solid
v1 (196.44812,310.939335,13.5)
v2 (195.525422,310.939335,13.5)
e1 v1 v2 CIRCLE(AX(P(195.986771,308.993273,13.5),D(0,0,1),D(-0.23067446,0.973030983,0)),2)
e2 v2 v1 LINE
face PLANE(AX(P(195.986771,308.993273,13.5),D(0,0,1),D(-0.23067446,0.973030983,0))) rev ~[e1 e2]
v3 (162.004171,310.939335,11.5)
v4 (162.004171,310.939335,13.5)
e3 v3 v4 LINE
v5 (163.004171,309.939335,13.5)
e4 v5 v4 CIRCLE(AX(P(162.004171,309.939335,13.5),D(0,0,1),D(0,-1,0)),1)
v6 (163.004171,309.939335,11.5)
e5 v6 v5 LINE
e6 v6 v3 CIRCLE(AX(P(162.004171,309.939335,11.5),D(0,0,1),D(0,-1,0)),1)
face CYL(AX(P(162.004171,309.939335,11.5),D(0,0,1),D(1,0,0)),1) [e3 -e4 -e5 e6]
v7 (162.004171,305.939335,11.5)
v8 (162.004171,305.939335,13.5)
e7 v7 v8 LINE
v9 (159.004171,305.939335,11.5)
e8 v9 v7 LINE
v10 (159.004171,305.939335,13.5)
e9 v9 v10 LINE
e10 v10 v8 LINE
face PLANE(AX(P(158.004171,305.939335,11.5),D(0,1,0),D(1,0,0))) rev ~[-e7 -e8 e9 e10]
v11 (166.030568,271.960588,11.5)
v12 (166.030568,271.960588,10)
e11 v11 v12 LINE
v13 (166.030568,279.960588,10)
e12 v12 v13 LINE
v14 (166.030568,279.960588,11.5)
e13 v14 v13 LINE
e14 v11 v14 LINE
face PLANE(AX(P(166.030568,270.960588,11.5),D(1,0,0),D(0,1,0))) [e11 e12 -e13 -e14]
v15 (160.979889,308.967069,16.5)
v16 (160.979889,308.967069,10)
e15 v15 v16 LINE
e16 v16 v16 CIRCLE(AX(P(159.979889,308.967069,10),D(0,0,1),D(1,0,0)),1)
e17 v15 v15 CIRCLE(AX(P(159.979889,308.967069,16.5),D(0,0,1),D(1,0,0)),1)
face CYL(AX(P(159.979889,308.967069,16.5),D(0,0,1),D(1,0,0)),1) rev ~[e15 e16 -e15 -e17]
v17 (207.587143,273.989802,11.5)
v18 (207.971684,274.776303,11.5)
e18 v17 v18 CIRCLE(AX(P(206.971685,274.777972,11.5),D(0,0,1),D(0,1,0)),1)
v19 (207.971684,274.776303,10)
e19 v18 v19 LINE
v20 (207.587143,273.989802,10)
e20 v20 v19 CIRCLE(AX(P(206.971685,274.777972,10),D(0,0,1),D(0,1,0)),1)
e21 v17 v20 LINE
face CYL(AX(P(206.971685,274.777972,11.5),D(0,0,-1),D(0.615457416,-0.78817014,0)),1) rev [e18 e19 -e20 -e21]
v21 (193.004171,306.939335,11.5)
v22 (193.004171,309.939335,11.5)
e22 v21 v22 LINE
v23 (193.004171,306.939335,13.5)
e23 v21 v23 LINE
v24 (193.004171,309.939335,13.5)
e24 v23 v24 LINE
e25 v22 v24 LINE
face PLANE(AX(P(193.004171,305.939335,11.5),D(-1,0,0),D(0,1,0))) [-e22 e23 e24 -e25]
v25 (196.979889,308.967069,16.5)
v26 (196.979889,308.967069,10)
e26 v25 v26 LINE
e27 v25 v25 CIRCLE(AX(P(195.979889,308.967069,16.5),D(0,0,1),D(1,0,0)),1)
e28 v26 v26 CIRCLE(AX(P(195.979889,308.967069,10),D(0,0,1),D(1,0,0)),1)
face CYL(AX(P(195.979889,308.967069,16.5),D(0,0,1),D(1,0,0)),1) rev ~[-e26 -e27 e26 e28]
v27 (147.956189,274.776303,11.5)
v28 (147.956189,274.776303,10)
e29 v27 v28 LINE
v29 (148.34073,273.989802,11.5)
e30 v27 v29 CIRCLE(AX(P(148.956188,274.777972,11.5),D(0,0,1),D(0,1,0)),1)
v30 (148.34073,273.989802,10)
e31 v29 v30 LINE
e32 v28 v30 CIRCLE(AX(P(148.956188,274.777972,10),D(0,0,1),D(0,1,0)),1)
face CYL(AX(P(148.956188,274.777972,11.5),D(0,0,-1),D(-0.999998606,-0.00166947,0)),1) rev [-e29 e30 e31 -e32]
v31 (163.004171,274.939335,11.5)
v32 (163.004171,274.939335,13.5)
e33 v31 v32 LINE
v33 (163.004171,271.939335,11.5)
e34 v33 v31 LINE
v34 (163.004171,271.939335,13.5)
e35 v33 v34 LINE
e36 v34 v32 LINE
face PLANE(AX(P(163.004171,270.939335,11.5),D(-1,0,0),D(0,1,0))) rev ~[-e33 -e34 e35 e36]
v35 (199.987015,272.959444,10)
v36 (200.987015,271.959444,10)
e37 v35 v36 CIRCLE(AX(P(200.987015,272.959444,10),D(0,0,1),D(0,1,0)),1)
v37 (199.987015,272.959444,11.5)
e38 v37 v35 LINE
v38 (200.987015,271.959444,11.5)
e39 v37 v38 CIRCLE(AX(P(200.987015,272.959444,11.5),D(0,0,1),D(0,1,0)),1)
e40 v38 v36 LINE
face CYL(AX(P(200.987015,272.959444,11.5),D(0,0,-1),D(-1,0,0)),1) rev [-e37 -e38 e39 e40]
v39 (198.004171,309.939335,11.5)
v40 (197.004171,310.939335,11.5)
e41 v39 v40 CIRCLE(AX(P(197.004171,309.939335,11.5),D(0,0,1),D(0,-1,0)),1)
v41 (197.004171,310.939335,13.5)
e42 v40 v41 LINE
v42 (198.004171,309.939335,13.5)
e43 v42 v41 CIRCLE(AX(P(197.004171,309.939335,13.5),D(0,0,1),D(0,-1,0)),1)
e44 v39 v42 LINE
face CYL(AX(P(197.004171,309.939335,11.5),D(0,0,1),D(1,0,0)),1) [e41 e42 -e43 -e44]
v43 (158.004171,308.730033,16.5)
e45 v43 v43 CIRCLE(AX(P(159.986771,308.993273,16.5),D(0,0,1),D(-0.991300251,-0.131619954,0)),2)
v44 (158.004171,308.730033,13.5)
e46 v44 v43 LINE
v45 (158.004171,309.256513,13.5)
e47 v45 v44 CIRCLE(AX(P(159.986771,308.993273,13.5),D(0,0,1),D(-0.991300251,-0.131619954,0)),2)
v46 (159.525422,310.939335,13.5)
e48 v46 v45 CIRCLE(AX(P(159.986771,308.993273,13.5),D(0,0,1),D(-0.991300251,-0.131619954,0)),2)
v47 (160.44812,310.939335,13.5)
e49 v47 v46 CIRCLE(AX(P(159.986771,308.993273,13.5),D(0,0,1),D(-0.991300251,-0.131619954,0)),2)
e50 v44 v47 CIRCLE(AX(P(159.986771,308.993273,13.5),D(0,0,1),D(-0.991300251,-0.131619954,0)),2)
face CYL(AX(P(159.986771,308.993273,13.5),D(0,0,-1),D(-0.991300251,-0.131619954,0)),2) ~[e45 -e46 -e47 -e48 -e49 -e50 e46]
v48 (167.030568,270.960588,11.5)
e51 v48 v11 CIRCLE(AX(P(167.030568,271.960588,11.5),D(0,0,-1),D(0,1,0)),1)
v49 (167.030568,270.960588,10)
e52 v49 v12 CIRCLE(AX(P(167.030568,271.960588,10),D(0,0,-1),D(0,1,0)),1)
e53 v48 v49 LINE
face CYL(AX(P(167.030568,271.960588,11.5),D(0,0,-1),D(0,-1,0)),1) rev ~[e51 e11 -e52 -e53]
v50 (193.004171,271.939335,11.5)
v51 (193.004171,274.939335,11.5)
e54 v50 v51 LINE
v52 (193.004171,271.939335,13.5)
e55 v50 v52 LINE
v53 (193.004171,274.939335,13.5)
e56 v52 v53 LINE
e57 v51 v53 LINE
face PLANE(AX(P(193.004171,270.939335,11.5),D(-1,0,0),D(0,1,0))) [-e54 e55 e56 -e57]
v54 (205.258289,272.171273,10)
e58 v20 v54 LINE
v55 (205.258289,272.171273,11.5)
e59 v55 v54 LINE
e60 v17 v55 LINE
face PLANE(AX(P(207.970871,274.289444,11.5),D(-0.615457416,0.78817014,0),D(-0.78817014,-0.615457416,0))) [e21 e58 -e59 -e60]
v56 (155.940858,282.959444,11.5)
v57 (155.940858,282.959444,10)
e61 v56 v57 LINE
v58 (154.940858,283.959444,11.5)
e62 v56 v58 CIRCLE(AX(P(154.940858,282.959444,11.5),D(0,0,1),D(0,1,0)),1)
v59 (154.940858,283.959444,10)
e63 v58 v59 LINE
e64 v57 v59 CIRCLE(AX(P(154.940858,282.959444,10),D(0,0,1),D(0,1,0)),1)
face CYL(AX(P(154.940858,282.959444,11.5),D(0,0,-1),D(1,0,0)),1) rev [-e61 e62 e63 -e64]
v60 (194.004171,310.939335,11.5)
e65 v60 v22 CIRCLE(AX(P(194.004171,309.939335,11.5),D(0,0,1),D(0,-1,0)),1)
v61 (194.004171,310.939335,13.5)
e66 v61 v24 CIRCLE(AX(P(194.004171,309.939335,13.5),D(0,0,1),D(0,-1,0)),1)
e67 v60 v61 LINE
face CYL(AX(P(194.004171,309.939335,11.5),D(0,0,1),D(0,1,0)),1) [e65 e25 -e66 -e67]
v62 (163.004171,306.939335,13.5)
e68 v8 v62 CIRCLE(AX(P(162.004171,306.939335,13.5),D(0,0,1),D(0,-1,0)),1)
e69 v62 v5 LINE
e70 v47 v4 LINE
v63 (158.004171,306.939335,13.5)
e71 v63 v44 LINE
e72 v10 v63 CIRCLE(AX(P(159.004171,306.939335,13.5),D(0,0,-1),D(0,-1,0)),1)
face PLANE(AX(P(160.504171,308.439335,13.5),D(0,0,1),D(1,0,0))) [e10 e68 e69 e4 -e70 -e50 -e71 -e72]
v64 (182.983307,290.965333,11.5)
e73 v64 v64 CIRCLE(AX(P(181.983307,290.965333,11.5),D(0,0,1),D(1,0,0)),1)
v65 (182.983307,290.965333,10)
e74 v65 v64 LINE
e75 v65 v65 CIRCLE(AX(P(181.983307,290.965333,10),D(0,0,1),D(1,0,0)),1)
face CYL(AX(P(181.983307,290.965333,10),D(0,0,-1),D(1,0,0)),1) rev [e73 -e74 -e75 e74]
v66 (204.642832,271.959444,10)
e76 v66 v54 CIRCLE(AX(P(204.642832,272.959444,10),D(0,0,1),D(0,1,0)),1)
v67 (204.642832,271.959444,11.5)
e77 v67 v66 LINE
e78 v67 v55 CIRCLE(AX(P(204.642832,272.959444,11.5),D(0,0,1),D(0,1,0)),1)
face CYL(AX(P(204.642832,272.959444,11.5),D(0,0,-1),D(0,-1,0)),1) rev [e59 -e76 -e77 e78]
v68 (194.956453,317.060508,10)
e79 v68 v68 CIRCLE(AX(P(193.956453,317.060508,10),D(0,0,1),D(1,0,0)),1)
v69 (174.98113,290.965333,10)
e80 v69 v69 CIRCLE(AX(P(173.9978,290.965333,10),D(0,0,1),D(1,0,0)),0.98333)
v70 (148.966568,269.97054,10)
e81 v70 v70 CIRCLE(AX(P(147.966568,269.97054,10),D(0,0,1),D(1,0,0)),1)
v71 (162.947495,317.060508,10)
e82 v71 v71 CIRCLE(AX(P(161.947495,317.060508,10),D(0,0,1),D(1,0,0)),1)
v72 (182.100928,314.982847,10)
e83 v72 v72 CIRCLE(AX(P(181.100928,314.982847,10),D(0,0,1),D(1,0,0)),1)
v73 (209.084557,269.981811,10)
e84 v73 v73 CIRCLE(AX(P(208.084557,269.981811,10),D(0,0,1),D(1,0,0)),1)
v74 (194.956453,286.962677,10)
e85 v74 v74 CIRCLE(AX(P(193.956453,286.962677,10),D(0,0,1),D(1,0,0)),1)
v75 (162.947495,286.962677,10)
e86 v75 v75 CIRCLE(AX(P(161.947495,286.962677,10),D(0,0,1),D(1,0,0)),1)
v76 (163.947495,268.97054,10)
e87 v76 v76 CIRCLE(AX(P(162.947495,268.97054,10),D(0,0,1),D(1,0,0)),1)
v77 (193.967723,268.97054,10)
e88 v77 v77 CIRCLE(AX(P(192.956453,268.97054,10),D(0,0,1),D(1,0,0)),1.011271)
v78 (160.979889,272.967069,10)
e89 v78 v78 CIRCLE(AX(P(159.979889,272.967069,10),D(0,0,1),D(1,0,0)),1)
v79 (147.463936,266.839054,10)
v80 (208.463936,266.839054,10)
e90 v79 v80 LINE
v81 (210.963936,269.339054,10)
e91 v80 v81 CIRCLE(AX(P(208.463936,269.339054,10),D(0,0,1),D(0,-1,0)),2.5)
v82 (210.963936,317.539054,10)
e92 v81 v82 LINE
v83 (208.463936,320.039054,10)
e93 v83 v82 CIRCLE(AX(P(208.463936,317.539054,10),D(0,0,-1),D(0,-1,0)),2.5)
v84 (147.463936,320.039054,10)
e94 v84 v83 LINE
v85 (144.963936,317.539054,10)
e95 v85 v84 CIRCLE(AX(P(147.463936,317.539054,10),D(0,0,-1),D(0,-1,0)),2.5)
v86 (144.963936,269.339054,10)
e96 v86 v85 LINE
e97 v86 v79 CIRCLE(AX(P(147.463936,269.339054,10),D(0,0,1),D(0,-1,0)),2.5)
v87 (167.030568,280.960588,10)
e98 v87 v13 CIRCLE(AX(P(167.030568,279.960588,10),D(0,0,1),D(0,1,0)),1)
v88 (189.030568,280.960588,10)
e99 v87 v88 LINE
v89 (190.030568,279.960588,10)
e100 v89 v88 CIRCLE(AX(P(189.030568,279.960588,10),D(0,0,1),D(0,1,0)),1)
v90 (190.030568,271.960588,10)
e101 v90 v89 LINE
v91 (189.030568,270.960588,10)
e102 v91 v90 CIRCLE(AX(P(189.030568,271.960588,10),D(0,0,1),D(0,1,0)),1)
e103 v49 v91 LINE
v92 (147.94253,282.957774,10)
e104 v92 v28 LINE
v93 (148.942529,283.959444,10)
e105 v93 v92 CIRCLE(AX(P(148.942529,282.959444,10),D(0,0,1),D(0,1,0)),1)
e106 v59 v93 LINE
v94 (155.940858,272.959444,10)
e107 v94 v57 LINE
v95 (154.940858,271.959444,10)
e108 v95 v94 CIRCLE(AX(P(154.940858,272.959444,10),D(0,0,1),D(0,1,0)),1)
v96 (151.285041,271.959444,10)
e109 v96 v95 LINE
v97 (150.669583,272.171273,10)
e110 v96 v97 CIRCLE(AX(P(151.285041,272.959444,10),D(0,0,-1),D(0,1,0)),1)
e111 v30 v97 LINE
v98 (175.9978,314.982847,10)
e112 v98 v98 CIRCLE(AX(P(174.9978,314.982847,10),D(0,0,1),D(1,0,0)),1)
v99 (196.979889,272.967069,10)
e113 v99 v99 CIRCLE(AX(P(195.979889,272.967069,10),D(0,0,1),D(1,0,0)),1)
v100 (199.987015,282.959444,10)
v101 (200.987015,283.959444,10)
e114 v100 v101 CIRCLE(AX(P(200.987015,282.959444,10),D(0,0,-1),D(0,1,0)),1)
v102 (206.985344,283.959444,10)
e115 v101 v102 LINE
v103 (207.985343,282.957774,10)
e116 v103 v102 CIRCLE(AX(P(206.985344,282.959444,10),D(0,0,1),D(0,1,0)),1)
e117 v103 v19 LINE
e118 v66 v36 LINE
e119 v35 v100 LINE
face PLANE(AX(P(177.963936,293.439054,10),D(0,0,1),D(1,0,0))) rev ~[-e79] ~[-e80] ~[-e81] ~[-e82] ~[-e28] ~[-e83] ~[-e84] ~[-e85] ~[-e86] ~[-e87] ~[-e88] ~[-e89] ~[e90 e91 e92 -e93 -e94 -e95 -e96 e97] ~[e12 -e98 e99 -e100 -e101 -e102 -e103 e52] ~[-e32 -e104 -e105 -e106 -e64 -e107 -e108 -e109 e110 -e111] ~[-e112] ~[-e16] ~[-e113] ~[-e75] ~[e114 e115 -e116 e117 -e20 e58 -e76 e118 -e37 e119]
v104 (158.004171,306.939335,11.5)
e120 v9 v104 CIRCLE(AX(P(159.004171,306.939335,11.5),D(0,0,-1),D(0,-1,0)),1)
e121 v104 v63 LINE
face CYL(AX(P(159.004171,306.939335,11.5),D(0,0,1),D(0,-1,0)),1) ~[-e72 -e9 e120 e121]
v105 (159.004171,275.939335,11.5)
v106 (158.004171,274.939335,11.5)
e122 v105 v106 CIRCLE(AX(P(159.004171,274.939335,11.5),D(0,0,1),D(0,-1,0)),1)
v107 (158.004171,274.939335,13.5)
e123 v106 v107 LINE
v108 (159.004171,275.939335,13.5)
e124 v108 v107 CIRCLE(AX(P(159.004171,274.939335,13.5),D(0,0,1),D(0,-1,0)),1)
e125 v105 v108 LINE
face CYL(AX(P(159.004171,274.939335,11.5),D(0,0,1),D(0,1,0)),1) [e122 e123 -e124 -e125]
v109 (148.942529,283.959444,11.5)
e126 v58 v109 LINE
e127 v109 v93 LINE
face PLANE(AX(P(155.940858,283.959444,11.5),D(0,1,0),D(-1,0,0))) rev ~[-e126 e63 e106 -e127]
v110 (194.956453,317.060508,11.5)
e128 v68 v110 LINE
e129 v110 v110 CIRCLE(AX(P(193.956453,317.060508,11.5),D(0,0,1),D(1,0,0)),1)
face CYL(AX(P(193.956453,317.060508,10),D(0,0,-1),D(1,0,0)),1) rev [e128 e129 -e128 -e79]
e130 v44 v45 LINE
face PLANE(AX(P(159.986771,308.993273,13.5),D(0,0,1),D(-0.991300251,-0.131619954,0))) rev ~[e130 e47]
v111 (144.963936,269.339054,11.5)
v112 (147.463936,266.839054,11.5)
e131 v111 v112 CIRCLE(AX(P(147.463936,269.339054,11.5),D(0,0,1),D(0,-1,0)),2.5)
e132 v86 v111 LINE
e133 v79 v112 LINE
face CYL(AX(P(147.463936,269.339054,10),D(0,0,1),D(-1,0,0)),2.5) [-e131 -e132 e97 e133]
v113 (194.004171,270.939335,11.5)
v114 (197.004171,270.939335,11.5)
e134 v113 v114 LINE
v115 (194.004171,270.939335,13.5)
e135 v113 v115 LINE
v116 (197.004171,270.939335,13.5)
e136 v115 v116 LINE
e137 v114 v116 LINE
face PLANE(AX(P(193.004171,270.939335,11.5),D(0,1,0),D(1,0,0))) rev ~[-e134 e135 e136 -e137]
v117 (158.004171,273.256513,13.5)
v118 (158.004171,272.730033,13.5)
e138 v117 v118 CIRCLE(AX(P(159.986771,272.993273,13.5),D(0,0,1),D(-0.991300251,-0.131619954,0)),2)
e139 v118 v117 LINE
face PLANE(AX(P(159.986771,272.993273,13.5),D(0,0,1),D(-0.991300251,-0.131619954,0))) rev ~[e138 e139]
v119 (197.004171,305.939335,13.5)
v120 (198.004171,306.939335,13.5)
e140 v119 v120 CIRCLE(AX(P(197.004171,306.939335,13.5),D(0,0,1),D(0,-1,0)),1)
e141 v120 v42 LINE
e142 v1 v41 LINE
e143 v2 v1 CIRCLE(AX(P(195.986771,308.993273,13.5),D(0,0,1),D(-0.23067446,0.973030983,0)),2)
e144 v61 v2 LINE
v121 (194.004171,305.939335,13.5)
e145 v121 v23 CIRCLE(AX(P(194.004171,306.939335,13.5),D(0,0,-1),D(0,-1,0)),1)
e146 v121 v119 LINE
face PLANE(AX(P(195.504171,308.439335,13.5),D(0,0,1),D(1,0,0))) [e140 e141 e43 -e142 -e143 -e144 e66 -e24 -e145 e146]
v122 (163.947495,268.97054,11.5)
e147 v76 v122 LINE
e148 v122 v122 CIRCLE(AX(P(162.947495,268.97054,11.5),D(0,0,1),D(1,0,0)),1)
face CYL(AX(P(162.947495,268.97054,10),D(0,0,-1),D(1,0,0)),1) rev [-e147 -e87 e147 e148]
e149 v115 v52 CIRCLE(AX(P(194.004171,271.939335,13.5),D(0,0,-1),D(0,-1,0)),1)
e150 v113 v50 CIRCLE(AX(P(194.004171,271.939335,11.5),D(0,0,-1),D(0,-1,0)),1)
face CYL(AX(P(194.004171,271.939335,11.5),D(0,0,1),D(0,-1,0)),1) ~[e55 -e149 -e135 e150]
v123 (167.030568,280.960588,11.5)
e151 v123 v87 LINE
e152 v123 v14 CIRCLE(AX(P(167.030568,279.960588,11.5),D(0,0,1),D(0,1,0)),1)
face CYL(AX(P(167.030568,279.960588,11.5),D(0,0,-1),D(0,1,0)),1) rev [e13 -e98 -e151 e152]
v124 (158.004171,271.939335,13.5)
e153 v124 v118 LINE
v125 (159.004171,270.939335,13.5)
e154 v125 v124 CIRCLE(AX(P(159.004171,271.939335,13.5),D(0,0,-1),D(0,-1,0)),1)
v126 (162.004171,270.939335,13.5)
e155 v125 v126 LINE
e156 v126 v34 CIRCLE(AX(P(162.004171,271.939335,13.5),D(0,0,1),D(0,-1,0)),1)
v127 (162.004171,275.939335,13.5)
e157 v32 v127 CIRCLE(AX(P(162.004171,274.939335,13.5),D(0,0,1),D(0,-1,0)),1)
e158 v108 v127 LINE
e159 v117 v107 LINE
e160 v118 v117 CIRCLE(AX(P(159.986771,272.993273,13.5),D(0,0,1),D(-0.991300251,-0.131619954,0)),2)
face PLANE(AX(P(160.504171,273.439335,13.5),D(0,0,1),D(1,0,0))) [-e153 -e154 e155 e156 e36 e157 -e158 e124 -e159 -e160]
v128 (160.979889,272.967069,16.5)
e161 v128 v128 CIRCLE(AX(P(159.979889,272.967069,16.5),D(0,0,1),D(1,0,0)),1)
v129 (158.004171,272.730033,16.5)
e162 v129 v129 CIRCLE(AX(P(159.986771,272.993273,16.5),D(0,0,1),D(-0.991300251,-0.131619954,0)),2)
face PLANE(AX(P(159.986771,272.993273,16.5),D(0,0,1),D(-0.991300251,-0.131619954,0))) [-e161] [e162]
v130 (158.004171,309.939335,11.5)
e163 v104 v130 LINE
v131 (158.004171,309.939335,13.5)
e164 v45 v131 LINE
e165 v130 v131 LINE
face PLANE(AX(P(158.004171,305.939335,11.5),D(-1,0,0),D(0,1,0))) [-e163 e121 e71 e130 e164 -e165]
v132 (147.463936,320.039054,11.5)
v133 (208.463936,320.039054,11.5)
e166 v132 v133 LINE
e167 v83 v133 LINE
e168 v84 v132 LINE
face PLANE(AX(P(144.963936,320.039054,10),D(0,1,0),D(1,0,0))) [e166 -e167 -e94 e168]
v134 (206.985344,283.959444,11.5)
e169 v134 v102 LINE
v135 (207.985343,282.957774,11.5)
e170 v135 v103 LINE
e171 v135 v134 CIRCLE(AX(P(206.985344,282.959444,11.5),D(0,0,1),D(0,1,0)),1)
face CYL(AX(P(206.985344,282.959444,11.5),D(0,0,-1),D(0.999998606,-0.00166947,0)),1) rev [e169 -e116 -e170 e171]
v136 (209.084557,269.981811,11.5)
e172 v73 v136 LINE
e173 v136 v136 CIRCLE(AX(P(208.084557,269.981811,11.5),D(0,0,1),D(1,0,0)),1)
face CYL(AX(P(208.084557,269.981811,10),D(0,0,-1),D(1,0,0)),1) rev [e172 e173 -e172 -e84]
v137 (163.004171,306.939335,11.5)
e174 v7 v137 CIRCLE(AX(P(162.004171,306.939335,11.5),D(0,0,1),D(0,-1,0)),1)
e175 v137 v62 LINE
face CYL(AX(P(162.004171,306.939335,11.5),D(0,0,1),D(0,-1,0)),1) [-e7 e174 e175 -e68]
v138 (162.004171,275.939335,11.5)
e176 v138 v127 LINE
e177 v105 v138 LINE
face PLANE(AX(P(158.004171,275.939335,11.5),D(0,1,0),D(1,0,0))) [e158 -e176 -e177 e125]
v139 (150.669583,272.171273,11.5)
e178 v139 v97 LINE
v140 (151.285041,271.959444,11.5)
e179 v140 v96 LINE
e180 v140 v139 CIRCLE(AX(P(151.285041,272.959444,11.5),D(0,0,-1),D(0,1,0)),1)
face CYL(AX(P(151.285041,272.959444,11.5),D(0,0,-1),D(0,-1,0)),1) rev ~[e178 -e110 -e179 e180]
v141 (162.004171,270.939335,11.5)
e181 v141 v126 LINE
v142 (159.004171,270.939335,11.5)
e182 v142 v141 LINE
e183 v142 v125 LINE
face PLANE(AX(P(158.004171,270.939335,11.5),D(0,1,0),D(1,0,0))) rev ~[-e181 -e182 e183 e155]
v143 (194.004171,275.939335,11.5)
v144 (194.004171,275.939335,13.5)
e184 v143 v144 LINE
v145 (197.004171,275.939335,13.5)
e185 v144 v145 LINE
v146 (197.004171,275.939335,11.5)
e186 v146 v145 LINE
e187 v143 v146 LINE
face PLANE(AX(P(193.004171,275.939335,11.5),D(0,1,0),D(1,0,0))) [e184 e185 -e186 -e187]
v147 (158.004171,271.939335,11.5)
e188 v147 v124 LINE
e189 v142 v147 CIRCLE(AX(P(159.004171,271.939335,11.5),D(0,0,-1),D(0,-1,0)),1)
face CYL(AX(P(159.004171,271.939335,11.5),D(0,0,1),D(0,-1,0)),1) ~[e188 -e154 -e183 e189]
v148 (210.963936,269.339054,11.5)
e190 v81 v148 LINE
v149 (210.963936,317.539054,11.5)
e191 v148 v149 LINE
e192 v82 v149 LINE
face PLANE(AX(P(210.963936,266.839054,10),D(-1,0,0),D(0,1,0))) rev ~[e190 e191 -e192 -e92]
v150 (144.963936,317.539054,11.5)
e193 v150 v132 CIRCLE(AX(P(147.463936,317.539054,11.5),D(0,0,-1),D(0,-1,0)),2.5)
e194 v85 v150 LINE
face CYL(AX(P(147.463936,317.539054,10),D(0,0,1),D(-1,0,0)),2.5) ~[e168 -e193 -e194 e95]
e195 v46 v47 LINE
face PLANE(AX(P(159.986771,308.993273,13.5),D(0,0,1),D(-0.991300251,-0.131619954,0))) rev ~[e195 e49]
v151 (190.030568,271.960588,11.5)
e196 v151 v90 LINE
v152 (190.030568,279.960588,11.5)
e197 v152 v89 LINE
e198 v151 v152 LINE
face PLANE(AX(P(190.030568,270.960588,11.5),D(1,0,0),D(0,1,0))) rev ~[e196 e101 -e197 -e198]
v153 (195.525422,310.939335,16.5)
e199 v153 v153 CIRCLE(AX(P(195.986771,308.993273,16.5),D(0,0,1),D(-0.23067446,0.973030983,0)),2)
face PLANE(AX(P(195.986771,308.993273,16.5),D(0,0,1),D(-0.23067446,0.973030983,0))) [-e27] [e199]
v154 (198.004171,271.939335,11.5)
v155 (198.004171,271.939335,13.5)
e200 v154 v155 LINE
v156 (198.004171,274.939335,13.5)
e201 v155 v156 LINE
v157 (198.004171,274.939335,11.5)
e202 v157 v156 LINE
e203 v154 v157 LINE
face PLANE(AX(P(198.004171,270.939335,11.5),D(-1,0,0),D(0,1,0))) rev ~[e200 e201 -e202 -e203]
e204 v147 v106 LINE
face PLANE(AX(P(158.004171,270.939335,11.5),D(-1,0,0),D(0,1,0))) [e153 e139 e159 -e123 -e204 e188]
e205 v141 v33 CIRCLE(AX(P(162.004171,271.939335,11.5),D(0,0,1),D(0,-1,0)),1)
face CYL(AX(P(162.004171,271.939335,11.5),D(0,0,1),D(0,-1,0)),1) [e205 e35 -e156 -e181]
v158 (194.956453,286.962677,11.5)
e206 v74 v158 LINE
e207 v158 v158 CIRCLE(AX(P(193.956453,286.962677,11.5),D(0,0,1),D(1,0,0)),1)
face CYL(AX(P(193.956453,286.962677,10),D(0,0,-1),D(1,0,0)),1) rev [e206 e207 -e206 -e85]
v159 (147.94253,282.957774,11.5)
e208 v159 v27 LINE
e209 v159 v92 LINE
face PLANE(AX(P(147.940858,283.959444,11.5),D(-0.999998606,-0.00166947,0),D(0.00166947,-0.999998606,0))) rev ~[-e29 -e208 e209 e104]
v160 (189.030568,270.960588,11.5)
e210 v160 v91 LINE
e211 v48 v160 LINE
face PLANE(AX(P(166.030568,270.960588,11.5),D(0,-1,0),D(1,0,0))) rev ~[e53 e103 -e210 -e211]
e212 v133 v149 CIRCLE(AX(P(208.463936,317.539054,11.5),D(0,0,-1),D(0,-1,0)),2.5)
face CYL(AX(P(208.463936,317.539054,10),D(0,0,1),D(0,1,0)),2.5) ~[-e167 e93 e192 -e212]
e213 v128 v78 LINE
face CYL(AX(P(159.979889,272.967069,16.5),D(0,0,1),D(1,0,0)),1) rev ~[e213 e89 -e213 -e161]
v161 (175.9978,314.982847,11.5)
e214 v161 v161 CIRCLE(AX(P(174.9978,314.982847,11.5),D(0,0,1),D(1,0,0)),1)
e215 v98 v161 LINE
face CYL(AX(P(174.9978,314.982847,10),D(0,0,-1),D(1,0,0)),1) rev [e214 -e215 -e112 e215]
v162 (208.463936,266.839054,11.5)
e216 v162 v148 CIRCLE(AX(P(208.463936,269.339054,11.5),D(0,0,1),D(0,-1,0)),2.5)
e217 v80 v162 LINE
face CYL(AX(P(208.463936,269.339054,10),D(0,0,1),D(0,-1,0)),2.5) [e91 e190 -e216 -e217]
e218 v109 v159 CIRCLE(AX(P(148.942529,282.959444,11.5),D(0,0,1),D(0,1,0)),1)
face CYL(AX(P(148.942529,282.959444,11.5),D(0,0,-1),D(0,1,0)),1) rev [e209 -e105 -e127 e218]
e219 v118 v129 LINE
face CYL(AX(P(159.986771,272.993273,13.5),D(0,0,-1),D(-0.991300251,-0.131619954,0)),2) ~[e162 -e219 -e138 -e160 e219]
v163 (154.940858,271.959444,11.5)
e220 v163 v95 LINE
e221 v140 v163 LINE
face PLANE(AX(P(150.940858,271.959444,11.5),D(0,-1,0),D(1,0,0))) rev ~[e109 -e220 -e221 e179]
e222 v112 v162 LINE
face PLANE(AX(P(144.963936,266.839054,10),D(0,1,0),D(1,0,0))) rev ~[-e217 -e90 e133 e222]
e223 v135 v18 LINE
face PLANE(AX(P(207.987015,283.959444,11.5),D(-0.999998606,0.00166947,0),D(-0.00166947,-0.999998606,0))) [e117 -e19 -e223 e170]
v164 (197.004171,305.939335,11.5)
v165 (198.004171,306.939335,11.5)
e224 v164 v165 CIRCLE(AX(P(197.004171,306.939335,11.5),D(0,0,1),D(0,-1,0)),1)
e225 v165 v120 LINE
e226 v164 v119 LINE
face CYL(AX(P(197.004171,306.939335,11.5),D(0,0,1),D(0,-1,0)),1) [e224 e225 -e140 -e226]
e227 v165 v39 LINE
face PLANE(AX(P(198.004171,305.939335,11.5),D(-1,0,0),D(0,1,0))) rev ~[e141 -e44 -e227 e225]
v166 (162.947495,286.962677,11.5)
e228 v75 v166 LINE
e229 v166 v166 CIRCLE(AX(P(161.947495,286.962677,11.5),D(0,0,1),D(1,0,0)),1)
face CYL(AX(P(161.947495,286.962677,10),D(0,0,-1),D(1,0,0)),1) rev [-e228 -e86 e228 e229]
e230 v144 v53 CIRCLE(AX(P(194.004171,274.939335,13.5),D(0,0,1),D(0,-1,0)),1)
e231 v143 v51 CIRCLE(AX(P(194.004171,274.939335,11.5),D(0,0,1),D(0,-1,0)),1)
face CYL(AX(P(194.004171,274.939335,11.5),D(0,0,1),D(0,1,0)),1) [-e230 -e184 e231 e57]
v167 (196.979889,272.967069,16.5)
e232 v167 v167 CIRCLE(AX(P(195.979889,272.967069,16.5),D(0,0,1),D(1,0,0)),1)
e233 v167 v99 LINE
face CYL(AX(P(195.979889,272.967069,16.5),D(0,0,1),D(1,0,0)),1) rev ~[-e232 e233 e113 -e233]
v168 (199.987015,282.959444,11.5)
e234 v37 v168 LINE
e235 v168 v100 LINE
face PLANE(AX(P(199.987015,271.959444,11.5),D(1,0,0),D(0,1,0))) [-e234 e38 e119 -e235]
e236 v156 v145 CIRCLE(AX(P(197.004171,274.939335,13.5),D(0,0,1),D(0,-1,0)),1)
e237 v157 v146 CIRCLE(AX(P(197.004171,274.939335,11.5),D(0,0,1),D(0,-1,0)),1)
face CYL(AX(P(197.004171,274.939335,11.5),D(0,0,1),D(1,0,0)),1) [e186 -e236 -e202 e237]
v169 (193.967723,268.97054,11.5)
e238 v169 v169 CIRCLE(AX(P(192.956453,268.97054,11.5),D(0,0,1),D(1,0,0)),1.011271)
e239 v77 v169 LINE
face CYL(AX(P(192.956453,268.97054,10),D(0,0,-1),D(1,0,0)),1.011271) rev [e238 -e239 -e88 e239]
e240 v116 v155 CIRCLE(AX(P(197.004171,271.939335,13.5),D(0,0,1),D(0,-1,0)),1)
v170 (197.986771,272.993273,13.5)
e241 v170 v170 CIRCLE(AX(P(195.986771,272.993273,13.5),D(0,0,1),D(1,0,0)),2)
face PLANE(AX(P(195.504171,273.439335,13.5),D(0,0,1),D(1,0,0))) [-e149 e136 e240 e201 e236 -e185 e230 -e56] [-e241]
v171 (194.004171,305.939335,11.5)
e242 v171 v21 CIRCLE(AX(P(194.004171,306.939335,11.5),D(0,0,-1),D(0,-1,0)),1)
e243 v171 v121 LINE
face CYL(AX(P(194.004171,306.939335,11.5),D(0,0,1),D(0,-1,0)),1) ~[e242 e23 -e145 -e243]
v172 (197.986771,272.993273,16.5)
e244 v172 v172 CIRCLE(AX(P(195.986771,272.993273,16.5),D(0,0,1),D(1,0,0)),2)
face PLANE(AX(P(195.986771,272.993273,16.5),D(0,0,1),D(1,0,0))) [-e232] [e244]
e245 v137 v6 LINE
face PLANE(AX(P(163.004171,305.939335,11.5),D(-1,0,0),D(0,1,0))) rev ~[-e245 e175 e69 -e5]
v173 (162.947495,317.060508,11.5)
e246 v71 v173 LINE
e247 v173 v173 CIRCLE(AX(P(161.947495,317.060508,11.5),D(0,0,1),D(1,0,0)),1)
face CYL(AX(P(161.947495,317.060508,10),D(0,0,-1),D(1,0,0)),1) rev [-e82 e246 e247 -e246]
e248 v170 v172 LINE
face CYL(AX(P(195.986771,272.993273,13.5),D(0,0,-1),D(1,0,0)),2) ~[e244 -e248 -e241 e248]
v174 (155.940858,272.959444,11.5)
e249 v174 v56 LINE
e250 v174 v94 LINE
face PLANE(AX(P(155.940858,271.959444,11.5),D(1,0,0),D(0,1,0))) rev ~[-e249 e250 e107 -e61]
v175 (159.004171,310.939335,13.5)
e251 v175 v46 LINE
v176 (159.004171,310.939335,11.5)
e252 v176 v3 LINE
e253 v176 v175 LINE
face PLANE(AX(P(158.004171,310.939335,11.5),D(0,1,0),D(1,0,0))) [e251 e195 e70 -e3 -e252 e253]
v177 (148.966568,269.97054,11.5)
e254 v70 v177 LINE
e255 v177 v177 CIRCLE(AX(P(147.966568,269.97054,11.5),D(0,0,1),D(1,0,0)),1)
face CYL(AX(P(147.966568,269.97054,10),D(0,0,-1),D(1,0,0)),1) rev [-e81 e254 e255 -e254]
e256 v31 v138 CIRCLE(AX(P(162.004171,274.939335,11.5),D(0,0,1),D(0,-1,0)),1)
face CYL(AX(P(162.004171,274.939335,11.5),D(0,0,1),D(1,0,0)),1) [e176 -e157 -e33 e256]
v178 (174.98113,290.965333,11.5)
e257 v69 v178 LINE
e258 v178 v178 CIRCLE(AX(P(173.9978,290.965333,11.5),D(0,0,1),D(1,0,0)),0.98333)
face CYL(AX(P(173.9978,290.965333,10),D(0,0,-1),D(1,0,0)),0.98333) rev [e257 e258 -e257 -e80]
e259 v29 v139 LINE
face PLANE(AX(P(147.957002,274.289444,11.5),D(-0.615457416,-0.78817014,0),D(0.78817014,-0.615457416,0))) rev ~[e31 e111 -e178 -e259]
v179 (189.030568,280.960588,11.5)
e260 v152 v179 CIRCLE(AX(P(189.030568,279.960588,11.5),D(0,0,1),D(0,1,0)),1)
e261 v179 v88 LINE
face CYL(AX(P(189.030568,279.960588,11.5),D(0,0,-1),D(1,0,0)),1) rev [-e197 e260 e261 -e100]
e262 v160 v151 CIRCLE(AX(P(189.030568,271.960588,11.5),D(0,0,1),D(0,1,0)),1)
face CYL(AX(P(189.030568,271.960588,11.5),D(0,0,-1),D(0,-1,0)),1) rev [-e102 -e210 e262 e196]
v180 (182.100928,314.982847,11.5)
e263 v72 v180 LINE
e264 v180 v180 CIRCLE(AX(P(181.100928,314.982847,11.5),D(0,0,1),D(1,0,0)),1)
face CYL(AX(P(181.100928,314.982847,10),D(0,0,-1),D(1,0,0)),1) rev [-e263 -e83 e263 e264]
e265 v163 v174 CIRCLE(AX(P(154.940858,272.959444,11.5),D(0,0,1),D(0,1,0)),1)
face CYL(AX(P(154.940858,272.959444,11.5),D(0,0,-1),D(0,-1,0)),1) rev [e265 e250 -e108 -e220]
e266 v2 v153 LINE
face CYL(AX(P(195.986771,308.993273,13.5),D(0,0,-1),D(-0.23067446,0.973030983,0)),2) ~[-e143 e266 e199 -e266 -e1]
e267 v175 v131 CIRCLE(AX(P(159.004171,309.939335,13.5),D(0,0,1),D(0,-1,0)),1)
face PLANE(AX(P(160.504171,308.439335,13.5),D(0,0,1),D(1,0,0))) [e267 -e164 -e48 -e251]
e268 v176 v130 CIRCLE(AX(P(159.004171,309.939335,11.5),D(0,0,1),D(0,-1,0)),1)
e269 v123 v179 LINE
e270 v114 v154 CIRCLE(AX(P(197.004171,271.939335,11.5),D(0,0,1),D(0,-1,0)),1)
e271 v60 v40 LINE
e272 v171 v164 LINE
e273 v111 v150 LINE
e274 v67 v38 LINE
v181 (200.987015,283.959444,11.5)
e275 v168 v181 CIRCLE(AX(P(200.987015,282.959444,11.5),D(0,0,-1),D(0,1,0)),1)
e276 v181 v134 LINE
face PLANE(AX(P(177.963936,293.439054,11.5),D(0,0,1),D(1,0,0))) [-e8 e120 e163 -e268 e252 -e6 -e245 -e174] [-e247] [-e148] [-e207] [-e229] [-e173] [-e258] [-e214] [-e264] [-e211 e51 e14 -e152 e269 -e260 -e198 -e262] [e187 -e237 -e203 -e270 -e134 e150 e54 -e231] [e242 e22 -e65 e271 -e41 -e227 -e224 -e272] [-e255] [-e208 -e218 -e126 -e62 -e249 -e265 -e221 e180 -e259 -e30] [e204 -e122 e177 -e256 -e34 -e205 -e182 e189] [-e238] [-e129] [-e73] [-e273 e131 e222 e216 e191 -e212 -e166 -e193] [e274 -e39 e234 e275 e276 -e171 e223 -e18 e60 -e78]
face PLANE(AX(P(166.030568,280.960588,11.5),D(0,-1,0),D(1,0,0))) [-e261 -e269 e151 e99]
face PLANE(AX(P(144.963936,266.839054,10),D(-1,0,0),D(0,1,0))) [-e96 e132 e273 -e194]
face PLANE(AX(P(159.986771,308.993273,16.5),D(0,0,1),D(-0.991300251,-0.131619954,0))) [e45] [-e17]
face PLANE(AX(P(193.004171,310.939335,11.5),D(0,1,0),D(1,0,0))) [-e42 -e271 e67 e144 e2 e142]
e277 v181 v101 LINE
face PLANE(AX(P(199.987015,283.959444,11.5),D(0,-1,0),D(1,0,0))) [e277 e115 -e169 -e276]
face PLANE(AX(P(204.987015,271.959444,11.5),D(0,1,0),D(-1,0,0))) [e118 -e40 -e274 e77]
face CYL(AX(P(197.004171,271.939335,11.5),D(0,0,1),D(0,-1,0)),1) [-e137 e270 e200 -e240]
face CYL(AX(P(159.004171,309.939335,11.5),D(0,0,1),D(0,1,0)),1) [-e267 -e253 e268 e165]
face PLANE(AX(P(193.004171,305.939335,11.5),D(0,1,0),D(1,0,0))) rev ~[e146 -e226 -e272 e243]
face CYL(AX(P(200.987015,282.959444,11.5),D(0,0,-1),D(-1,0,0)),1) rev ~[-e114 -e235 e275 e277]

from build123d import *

# Parameters (mm, degrees)
SKETCH1_W           = 66
SKETCH1_H           = 53.2
SKETCH1_R           = 1
SKETCH1_R_2         = 0.98333
SKETCH1_R_3         = 1.011270727
BOSS_EXTRUDE1_DEPTH = 1.5
SKETCH2_W           = 5
SKETCH2_H           = 5
BOSS_EXTRUDE2_DEPTH = 2
FILLET1_R           = 1
FILLET2_R           = 2.5
SKETCH3_R           = 2
BOSS_EXTRUDE3_DEPTH = 3
SKETCH4_R           = 1
CUT_EXTRUDE1_DEPTH  = 384.370615534
SKETCH5_W           = 24
SKETCH5_H           = 10
CUT_EXTRUDE2_DEPTH  = 3
FILLET3_R           = 1


with BuildPart() as part:
    # Sketch1 → Boss-Extrude1 (new body)
    with BuildSketch(Plane.XY.offset(10)):
        with Locations((177.963936399, 293.439054482)):
            Rectangle(SKETCH1_W, SKETCH1_H)
        with Locations((161.947495, 317.06050799)):
            Circle(SKETCH1_R, mode=Mode.SUBTRACT)
        with Locations((193.956452611, 317.06050799)):
            Circle(SKETCH1_R, mode=Mode.SUBTRACT)
        with Locations((174.997800233, 314.982847455)):
            Circle(SKETCH1_R, mode=Mode.SUBTRACT)
        with Locations((181.100928053, 314.982847455)):
            Circle(SKETCH1_R, mode=Mode.SUBTRACT)
        with Locations((173.997800233, 290.965333254)):
            Circle(SKETCH1_R_2, mode=Mode.SUBTRACT)
        with Locations((181.983306885, 290.965333254)):
            Circle(SKETCH1_R, mode=Mode.SUBTRACT)
        with Locations((161.947495, 286.962677261)):
            Circle(SKETCH1_R, mode=Mode.SUBTRACT)
        with Locations((193.956452611, 286.962677261)):
            Circle(SKETCH1_R, mode=Mode.SUBTRACT)
        with Locations((162.947495, 268.970540104)):
            Circle(SKETCH1_R, mode=Mode.SUBTRACT)
        with Locations((192.956452611, 268.970540104)):
            Circle(SKETCH1_R_3, mode=Mode.SUBTRACT)
        with Locations((208.084556857, 269.981810832)):
            Circle(SKETCH1_R, mode=Mode.SUBTRACT)
        with Locations((147.966567684, 269.970540104)):
            Circle(SKETCH1_R, mode=Mode.SUBTRACT)
    extrude(amount=BOSS_EXTRUDE1_DEPTH)

    # Sketch2 → Boss-Extrude2 (add)
    with BuildSketch(Plane.XY.offset(11.5)):
        with Locations((195.50417089, 308.439334712)):
            Rectangle(SKETCH2_W, SKETCH2_H)
        with Locations((160.50417089, 308.439334712)):
            Rectangle(SKETCH2_W, SKETCH2_H)
        with Locations((195.50417089, 273.439334712)):
            Rectangle(SKETCH2_W, SKETCH2_H)
        with Locations((160.50417089, 273.439334712)):
            Rectangle(SKETCH2_W, SKETCH2_H)
    extrude(amount=BOSS_EXTRUDE2_DEPTH)

    # Fillet1
    fillet1_edges = [part.edges().sort_by_distance(p)[0] for p in [
        (163.00417089, 275.939334712, 12.5),
        (158.00417089, 275.939334712, 12.5),
        (158.00417089, 270.939334712, 12.5),
        (163.00417089, 270.939334712, 12.5),
        (158.00417089, 310.939334712, 12.5),
        (158.00417089, 305.939334712, 12.5),
        (163.00417089, 305.939334712, 12.5),
        (163.00417089, 310.939334712, 12.5),
        (198.00417089, 310.939334712, 12.5),
        (193.00417089, 310.939334712, 12.5),
        (193.00417089, 305.939334712, 12.5),
        (198.00417089, 305.939334712, 12.5),
        (198.00417089, 275.939334712, 12.5),
        (193.00417089, 275.939334712, 12.5),
        (193.00417089, 270.939334712, 12.5),
        (198.00417089, 270.939334712, 12.5),
    ]]
    fillet(fillet1_edges, radius=FILLET1_R)

    # Fillet2
    fillet2_edges = [part.edges().sort_by_distance(p)[0] for p in [
        (144.963936399, 320.039054482, 10.75),
        (210.963936399, 320.039054482, 10.75),
        (210.963936399, 266.839054482, 10.75),
        (144.963936399, 266.839054482, 10.75),
    ]]
    fillet(fillet2_edges, radius=FILLET2_R)

    # Sketch3 → Boss-Extrude3 (add)
    with BuildSketch(Plane.XY.offset(13.5)):
        with Locations(Location((159.986771392, 308.993272747, 0), (0, 0, 187.563213286))):
            Circle(SKETCH3_R)
        with Locations(Location((195.986771392, 308.993272747, 0), (0, 0, 103.336783262))):
            Circle(SKETCH3_R)
        with Locations((195.986771392, 272.993272747)):
            Circle(SKETCH3_R)
        with Locations(Location((159.986771392, 272.993272747, 0), (0, 0, 187.563213286))):
            Circle(SKETCH3_R)
    extrude(amount=BOSS_EXTRUDE3_DEPTH)

    # Sketch4 → Cut-Extrude1 (cut, through all)
    with BuildSketch(Plane.XY.offset(16.5)):
        with Locations((159.979889168, 308.96706871)):
            Circle(SKETCH4_R)
        with Locations((195.979889168, 308.96706871)):
            Circle(SKETCH4_R)
        with Locations((195.979889168, 272.96706871)):
            Circle(SKETCH4_R)
        with Locations((159.979889168, 272.96706871)):
            Circle(SKETCH4_R)
    extrude(amount=-CUT_EXTRUDE1_DEPTH, mode=Mode.SUBTRACT)

    # Sketch5 → Cut-Extrude2 (cut)
    with BuildSketch(Plane.XY.offset(11.5)):
        Polygon((199.987014771, 283.959443526), (207.987014771, 283.959443526), (207.970870972, 274.289443526), (204.987014771, 271.959443526), (199.987014771, 271.959443526), align=None)
        Polygon((150.940858028, 271.959443526), (155.940858028, 271.959443526), (155.940858028, 283.959443526), (147.940858028, 283.959443526), (147.957001827, 274.289443526), align=None)
        with Locations((178.030567575, 275.960587895)):
            Rectangle(SKETCH5_W, SKETCH5_H)
    extrude(amount=-CUT_EXTRUDE2_DEPTH, mode=Mode.SUBTRACT)

    # Fillet3
    fillet3_edges = [part.edges().sort_by_distance(p)[0] for p in [
        (199.987014771, 271.959443526, 10.75),
        (199.987014771, 283.959443526, 10.75),
        (207.987014771, 283.959443526, 10.75),
        (207.970870972, 274.289443526, 10.75),
        (204.987014771, 271.959443526, 10.75),
        (150.940858028, 271.959443526, 10.75),
        (147.957001827, 274.289443526, 10.75),
        (147.940858028, 283.959443526, 10.75),
        (155.940858028, 283.959443526, 10.75),
        (155.940858028, 271.959443526, 10.75),
        (166.030567575, 270.960587895, 10.75),
        (166.030567575, 280.960587895, 10.75),
        (190.030567575, 280.960587895, 10.75),
        (190.030567575, 270.960587895, 10.75),
    ]]
    fillet(fillet3_edges, radius=FILLET3_R)


solid = part.part
